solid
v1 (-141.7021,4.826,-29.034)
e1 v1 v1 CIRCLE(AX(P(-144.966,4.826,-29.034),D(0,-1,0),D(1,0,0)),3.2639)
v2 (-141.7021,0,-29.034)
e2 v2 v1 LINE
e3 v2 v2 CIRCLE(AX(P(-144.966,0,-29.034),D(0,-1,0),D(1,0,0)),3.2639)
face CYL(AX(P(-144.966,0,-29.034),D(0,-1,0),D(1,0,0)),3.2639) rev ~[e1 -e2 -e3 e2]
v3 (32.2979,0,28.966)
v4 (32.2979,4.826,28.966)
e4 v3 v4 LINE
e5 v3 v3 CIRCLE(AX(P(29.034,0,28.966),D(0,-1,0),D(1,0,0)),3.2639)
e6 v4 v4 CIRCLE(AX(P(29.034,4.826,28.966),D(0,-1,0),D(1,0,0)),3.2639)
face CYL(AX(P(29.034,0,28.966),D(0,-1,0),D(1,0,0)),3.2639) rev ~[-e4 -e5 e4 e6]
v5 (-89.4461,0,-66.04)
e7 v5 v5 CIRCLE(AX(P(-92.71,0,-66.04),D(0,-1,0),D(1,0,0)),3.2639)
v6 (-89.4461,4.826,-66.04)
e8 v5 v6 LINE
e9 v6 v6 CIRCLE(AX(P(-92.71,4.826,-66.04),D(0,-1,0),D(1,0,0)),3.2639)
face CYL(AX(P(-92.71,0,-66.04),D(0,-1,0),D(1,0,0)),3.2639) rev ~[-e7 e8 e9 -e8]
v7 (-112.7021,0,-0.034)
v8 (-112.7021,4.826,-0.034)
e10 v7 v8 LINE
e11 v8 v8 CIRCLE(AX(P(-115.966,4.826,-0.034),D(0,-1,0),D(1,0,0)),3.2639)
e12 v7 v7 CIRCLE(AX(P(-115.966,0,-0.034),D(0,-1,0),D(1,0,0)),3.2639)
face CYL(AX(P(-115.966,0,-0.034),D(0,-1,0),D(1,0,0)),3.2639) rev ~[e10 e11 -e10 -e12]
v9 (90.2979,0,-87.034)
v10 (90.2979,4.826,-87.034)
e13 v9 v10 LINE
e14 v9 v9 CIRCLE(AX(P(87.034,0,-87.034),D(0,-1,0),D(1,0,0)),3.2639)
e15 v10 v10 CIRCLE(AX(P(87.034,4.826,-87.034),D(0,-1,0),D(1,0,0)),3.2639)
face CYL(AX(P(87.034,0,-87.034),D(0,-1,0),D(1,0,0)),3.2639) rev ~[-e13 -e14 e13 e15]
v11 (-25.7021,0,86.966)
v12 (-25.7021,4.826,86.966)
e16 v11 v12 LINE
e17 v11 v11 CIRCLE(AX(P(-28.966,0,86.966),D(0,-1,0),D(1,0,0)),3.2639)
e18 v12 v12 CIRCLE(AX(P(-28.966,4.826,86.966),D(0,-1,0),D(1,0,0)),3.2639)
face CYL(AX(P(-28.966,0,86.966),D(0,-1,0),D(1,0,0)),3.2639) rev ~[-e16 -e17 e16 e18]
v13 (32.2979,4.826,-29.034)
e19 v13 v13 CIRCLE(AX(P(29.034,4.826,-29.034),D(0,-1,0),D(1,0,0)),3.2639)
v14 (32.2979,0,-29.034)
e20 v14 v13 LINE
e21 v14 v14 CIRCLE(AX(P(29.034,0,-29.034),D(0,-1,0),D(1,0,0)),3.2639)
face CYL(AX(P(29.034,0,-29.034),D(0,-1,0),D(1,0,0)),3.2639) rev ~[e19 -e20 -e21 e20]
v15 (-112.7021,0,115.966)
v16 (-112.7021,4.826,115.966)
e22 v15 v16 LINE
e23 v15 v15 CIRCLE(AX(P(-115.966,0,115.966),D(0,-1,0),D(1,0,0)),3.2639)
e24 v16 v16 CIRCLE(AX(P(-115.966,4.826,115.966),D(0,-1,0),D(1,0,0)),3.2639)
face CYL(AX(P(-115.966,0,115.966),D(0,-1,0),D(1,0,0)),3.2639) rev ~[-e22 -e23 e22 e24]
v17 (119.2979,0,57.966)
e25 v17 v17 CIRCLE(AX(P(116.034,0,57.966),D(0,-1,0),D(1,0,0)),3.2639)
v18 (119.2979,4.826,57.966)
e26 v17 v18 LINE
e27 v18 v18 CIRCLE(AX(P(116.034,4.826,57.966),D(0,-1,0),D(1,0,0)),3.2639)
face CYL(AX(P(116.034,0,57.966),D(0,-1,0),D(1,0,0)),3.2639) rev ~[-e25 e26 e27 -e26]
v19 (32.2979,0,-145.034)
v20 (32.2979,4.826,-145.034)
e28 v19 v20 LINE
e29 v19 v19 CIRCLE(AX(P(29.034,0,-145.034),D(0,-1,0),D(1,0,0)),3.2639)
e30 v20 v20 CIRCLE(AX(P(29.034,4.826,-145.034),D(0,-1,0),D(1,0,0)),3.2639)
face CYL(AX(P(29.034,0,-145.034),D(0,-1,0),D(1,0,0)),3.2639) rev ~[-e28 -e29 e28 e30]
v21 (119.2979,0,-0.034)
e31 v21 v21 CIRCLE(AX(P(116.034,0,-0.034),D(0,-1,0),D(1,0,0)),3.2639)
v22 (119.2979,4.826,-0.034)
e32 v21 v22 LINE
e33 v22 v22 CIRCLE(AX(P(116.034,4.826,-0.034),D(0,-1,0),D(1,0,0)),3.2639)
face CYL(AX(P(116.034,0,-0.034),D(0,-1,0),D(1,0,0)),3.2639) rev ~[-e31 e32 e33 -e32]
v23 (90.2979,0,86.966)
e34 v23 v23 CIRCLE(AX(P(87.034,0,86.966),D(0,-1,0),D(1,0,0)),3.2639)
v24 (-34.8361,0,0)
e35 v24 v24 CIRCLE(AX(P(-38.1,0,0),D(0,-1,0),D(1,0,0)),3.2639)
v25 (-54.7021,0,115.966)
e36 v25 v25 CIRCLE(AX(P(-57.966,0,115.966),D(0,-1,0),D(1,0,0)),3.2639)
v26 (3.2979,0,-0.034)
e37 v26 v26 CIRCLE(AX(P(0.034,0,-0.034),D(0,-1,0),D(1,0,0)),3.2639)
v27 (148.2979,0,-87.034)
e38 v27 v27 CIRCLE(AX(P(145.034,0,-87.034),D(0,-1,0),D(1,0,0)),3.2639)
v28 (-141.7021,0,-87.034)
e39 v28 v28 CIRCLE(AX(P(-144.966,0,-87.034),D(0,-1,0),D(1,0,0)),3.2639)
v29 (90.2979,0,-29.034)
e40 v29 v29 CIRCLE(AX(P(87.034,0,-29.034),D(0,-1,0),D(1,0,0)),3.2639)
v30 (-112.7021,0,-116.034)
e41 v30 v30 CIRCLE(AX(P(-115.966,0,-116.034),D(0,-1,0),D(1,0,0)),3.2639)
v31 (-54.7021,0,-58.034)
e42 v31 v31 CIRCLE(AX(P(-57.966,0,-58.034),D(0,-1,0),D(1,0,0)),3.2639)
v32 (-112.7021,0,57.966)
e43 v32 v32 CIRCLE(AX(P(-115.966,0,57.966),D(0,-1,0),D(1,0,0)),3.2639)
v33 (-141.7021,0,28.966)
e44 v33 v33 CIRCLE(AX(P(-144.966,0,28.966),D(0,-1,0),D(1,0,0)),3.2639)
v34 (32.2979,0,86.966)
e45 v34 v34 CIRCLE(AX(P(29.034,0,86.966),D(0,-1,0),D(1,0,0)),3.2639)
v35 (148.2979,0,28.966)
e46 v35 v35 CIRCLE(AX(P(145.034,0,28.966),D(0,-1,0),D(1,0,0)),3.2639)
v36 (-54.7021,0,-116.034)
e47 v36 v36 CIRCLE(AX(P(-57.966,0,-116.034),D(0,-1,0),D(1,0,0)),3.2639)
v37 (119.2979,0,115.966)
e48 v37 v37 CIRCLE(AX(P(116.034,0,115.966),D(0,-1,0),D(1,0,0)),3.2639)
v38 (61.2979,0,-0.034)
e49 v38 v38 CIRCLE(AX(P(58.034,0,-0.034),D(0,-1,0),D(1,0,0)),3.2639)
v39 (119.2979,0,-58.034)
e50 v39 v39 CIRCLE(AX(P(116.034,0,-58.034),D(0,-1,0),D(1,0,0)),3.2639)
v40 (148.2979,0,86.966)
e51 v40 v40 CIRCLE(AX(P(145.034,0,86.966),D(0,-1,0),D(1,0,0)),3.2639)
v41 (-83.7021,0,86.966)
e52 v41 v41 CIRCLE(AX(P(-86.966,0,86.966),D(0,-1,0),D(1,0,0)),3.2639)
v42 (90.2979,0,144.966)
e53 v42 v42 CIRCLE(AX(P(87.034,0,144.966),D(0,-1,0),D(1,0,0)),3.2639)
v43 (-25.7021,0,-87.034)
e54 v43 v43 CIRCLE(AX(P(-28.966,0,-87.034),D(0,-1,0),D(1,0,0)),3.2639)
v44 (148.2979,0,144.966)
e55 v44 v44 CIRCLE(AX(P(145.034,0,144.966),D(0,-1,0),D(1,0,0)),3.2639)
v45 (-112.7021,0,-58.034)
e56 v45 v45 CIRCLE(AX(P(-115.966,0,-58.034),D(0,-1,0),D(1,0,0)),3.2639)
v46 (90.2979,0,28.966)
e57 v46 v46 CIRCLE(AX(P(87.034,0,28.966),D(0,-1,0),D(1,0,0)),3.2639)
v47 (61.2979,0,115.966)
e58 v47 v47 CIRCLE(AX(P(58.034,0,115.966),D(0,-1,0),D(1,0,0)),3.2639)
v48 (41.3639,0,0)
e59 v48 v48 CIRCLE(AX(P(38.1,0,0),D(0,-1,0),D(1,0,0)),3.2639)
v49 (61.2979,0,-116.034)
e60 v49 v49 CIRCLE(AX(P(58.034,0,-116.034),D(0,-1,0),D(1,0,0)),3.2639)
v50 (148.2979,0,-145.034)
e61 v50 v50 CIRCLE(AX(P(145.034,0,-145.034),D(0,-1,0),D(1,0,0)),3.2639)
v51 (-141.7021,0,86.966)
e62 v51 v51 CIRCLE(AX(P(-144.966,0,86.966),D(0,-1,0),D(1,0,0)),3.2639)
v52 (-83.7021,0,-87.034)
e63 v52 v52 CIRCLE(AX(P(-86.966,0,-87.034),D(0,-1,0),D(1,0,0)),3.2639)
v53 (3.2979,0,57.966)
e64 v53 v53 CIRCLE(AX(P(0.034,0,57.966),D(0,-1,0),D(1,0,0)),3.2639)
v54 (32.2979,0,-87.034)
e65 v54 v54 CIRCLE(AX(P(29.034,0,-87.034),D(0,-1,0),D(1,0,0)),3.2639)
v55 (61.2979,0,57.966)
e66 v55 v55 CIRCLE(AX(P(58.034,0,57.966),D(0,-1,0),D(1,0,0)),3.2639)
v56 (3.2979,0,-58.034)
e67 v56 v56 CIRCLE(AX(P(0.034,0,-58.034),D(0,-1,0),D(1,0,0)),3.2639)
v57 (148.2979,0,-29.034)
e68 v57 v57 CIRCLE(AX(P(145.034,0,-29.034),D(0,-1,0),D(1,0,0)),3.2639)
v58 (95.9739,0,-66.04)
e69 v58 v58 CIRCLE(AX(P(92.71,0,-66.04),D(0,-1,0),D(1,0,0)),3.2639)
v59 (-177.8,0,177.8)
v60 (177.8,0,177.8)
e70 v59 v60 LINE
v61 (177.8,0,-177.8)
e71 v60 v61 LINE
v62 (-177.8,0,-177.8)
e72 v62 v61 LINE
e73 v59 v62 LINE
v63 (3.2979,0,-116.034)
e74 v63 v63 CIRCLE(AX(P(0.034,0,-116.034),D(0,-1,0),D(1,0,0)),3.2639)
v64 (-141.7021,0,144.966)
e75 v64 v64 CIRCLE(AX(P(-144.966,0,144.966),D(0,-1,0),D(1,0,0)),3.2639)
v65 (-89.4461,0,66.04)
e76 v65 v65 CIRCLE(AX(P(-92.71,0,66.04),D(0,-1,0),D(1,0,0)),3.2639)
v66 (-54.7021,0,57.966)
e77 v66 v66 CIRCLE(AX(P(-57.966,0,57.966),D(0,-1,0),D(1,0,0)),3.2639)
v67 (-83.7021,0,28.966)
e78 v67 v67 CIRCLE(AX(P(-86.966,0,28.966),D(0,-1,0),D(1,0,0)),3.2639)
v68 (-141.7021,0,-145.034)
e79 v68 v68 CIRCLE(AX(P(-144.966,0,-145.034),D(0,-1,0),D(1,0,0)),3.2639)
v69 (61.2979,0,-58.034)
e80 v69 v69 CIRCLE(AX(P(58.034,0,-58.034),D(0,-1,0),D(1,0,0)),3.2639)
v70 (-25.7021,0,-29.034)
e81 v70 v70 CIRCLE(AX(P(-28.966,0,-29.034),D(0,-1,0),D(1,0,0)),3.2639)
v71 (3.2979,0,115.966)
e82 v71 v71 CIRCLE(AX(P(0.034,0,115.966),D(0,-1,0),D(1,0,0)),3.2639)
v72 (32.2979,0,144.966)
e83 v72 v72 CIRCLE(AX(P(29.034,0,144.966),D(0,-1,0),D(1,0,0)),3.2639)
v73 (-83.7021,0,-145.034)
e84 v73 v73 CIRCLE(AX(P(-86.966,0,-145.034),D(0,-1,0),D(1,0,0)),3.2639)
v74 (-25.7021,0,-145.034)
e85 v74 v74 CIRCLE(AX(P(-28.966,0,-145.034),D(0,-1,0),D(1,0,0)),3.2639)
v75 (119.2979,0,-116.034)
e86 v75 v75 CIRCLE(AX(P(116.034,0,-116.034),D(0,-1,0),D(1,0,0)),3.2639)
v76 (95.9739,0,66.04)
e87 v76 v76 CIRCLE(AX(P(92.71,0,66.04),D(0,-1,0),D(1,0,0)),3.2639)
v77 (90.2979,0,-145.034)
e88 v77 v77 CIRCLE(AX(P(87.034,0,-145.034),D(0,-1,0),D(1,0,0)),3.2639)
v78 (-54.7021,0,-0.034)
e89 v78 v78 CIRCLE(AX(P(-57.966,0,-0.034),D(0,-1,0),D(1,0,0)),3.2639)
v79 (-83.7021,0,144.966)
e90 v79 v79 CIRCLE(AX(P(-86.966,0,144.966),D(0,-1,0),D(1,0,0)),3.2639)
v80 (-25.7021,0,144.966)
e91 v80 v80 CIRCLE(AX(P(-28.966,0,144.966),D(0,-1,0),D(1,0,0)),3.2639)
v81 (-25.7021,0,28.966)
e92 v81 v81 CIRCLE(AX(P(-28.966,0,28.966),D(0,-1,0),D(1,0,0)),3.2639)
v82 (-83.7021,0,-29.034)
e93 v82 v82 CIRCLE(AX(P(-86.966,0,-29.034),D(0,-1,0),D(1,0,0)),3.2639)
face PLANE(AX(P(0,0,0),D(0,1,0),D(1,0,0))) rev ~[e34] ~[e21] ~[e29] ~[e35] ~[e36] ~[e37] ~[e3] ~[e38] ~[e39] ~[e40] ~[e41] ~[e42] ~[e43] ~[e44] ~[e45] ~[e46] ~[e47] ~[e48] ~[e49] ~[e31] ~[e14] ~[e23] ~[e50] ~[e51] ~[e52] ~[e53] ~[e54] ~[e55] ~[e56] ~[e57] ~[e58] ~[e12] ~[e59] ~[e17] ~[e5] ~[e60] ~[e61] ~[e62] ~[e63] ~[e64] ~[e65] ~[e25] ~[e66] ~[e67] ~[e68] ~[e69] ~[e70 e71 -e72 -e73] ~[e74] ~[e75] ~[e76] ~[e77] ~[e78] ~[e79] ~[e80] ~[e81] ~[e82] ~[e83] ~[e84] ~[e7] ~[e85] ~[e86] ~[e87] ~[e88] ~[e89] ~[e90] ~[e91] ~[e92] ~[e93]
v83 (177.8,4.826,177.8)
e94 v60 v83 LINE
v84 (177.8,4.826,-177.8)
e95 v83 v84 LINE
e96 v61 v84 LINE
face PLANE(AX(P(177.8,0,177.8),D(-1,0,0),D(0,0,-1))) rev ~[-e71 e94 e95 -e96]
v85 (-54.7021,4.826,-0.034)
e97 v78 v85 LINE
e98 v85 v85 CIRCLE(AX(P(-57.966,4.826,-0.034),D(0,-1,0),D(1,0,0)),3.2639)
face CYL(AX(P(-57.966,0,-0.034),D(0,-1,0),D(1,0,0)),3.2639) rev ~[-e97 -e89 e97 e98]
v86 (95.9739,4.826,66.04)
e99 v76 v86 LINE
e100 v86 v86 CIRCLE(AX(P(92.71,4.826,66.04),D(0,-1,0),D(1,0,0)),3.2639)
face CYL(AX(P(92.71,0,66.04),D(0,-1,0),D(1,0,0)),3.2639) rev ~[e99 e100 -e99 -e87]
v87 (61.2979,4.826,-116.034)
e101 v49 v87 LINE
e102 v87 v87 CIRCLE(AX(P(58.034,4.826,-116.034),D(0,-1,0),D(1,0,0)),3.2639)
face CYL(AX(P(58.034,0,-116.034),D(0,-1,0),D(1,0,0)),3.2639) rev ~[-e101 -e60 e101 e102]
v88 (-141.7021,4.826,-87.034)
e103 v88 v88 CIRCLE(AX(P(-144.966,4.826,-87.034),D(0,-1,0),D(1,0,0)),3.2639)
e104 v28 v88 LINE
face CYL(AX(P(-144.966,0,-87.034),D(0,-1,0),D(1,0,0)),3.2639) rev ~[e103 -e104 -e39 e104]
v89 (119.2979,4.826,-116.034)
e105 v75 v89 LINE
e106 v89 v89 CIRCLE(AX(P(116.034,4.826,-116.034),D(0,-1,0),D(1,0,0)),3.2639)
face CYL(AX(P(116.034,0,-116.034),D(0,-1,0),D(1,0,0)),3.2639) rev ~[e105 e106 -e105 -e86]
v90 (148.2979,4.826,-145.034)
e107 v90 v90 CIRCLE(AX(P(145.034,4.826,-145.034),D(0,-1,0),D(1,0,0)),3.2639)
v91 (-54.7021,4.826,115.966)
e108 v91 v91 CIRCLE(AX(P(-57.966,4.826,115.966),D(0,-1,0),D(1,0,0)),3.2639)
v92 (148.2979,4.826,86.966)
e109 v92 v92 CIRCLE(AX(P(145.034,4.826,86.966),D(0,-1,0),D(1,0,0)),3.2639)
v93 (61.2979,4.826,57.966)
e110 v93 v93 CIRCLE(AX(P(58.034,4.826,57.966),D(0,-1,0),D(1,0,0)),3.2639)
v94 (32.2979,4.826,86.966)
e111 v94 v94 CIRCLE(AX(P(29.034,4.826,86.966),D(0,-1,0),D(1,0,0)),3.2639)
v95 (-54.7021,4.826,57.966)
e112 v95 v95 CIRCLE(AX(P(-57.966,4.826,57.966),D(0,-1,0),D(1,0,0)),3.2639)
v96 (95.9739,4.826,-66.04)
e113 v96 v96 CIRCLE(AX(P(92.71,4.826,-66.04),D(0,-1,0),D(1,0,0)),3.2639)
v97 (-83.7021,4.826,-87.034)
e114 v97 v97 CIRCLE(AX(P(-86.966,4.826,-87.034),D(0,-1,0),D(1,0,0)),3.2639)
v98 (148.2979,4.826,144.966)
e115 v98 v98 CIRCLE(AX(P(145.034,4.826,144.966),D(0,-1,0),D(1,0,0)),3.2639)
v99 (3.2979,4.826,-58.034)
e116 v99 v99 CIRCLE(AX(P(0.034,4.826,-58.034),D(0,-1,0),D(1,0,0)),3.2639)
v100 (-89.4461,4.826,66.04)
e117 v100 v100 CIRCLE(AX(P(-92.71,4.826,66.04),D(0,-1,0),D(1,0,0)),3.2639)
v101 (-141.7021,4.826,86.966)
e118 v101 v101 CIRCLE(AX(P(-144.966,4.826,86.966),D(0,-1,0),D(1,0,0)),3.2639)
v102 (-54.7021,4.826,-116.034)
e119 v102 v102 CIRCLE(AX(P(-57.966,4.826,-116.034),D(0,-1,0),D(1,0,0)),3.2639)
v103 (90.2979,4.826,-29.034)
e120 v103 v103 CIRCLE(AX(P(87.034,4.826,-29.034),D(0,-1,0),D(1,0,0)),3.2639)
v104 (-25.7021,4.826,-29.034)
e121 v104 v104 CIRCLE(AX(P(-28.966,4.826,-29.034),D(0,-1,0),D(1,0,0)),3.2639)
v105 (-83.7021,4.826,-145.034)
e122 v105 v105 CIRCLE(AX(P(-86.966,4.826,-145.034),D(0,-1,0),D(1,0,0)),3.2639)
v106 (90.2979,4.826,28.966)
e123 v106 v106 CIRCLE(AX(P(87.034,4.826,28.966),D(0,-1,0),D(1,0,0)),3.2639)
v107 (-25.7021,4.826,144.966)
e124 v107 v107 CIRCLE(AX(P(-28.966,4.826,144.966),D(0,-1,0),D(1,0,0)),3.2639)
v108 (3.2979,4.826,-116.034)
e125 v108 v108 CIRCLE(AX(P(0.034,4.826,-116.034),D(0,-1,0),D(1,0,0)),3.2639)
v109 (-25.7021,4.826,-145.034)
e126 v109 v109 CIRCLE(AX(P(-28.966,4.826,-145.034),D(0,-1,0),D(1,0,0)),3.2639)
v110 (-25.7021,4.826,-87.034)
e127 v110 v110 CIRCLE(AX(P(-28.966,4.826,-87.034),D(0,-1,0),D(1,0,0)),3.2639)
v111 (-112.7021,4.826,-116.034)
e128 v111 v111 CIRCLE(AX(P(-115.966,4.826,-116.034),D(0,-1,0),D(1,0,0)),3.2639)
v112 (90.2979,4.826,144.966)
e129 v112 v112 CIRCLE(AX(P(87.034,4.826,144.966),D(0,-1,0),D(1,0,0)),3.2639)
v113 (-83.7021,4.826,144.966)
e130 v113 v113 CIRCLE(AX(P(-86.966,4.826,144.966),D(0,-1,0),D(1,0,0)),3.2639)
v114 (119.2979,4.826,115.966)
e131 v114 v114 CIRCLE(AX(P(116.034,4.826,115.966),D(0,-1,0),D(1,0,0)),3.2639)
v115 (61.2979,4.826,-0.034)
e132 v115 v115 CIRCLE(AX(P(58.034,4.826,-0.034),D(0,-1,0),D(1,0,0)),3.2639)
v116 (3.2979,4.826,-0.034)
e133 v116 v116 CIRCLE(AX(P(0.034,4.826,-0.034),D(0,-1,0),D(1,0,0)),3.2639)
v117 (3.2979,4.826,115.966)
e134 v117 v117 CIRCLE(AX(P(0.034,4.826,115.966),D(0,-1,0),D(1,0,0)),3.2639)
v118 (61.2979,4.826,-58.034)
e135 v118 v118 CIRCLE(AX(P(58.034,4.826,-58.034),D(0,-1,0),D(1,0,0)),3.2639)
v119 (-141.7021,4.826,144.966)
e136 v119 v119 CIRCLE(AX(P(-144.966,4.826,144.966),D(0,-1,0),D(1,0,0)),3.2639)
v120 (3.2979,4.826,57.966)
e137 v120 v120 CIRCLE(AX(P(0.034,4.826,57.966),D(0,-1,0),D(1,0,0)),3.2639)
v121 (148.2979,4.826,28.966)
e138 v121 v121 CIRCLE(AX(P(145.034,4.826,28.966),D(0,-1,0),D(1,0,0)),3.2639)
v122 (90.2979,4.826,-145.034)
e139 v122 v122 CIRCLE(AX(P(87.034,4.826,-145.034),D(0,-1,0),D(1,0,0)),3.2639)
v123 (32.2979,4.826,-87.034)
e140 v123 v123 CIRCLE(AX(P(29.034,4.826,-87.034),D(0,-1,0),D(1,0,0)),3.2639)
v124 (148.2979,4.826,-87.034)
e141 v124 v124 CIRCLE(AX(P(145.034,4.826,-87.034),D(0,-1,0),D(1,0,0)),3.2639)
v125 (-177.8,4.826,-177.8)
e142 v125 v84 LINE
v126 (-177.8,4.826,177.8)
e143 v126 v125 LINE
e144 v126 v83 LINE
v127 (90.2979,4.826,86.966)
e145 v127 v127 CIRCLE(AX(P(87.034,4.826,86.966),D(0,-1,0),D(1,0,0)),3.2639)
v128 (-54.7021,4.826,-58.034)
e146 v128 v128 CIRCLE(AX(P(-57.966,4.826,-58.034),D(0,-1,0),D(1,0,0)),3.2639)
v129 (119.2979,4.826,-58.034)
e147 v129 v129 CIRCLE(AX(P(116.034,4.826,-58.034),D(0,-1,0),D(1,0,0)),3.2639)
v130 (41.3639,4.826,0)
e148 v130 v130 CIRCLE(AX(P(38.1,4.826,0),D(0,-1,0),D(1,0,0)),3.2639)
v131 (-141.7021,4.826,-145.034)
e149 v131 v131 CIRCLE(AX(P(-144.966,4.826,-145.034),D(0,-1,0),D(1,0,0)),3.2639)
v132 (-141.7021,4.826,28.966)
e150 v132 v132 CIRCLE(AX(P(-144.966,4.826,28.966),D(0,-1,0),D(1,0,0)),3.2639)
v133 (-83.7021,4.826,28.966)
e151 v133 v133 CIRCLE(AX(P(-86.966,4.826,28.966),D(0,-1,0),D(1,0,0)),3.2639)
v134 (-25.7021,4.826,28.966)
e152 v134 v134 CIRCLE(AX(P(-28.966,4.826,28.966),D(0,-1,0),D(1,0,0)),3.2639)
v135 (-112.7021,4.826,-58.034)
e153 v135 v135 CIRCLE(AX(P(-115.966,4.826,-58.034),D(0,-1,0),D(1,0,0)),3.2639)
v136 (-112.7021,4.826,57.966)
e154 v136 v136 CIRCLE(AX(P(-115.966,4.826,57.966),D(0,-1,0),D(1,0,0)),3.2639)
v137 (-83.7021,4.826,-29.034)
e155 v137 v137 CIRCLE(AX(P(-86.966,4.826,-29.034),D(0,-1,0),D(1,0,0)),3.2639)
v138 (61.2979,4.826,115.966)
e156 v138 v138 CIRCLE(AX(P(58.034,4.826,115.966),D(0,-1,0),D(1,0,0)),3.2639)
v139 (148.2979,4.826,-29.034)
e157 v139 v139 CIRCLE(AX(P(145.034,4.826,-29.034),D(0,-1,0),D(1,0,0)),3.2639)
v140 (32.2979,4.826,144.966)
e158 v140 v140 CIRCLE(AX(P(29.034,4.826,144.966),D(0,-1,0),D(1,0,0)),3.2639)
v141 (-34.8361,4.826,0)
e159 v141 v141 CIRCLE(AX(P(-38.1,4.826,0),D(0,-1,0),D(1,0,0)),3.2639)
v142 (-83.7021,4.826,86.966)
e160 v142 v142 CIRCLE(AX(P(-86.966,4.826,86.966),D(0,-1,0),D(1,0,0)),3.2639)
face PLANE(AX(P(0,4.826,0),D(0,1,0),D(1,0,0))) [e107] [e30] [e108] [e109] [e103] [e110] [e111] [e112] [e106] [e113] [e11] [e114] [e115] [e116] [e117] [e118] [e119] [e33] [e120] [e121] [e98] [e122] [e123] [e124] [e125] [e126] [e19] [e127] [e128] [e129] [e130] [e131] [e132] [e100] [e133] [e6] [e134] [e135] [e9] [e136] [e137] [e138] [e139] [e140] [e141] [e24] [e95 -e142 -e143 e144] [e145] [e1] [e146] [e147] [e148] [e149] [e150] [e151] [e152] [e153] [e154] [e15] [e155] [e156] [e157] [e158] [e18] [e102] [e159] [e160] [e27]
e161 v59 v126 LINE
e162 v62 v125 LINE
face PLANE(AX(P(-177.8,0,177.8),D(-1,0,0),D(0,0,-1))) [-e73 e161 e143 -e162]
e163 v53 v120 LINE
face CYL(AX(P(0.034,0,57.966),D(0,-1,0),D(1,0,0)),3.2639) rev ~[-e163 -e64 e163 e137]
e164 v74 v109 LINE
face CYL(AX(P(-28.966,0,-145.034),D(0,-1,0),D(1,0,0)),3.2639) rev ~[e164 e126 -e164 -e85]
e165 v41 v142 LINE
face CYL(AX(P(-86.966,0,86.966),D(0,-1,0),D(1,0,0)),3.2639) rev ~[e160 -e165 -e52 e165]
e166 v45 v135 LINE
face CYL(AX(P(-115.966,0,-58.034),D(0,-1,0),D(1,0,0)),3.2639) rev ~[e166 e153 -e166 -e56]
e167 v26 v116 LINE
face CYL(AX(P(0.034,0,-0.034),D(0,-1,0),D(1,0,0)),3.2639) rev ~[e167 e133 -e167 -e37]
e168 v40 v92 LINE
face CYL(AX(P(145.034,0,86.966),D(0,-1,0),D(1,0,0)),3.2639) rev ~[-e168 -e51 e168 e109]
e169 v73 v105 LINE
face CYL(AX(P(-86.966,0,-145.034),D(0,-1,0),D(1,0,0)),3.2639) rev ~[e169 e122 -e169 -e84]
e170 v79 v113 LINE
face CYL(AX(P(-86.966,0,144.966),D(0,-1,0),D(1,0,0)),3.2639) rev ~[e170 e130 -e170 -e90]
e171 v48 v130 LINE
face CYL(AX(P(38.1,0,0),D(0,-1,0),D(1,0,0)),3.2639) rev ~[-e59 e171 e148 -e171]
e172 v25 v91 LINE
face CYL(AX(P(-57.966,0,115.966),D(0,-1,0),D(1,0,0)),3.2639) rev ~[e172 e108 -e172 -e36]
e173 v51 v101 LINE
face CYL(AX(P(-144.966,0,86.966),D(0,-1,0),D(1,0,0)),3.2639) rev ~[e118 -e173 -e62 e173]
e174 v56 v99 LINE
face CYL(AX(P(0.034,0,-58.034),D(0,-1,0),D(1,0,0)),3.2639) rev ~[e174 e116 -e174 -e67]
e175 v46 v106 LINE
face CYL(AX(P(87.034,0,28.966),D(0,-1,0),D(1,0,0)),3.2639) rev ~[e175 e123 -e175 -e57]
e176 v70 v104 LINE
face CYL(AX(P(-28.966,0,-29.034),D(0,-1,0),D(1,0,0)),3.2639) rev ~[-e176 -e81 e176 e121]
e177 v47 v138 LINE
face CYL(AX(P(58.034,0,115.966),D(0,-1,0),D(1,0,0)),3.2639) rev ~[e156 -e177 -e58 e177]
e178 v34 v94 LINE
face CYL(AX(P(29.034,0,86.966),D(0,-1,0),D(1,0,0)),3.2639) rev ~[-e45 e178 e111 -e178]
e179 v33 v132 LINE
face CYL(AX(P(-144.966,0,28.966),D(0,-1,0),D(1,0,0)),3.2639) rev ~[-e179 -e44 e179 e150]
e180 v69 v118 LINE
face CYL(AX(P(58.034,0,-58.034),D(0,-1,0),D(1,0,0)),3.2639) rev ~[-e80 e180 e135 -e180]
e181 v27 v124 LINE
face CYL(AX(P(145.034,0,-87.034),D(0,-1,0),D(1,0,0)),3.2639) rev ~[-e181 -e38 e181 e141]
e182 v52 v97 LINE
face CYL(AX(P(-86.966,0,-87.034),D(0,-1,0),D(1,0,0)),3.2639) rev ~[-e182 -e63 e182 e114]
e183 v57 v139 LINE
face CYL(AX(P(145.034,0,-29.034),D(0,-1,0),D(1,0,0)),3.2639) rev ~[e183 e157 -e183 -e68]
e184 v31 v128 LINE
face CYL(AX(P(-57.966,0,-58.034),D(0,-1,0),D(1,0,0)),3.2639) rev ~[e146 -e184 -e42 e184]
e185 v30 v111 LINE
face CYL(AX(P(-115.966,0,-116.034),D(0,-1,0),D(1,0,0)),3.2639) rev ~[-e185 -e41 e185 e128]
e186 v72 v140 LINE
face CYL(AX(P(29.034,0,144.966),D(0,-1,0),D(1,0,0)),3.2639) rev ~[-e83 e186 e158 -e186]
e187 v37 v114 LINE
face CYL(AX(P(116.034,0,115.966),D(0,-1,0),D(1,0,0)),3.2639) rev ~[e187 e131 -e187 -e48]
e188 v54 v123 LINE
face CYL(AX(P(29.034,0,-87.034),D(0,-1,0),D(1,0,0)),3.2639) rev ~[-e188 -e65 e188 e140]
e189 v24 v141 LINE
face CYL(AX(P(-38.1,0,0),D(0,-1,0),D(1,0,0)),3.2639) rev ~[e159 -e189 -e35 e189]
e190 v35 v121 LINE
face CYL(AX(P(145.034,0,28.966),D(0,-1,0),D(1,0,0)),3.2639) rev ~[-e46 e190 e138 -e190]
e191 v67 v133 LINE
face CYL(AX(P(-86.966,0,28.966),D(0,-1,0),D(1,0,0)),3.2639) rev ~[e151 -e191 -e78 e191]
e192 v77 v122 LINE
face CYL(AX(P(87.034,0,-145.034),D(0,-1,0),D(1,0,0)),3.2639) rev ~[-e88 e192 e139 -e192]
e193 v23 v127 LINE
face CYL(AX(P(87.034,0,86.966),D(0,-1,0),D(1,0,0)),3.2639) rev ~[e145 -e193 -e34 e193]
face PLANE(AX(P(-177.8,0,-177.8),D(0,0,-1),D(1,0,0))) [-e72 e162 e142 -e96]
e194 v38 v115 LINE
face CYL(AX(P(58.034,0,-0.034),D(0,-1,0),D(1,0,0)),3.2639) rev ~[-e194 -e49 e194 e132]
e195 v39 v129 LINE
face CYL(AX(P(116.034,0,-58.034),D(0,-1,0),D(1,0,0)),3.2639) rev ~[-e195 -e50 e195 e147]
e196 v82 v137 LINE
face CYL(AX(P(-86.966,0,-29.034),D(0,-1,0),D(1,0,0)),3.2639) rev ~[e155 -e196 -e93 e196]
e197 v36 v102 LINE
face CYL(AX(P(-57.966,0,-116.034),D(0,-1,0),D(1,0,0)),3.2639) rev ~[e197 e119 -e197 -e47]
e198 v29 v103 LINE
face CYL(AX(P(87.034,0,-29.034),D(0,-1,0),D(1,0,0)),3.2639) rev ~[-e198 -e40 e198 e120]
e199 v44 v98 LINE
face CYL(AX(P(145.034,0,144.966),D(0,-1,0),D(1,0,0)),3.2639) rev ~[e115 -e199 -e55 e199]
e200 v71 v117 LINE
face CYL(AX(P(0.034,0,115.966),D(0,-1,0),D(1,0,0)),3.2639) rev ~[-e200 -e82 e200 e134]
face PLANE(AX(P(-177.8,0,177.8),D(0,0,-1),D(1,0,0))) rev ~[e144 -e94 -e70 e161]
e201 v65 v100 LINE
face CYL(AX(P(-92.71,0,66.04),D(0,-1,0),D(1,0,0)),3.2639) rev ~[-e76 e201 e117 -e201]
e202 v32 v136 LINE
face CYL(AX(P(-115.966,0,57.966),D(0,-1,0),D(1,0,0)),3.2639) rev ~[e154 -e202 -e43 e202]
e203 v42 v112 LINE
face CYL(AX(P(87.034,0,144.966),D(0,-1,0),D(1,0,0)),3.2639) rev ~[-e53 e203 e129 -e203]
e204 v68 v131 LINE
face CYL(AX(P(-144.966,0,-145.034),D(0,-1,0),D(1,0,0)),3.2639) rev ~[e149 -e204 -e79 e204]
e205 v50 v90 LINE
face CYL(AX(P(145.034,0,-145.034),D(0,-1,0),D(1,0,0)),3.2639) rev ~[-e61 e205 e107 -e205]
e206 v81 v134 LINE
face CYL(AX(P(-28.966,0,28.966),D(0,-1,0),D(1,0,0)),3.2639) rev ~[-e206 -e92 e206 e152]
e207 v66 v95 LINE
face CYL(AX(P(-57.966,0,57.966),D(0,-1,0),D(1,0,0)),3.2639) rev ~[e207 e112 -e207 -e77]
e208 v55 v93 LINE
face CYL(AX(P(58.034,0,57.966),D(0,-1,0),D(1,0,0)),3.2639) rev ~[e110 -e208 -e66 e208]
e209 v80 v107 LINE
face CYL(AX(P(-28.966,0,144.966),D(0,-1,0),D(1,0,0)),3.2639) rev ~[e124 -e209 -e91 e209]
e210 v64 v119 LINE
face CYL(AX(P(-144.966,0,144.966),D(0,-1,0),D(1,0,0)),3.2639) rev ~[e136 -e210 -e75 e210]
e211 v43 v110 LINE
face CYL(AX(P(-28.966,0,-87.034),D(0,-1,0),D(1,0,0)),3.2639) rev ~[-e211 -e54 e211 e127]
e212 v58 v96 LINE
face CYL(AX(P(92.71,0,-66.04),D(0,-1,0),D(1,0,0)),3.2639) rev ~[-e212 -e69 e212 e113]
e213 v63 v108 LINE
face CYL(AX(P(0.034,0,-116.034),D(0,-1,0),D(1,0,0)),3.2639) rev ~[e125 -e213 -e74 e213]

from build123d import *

# Parameters (mm, degrees)
SKETCH1_W           = 355.6
SKETCH1_H           = 355.6
BOSS_EXTRUDE1_DEPTH = 4.826
SKETCH3_R           = 3.2639
CUT_EXTRUDE2_DEPTH  = 5.826
SKETCH5_R           = 3.2639
CUT_EXTRUDE3_DEPTH  = 5.826
SKETCH6_R           = 3.2639
CUT_EXTRUDE4_DEPTH  = 5.826


with BuildPart() as part:
    # Sketch1 → Boss-Extrude1 (new body)
    with BuildSketch(Plane(origin=(0, 0, 0), x_dir=(1, 0, 0), z_dir=(0, 1, 0))):
        Rectangle(SKETCH1_W, SKETCH1_H)
    extrude(amount=BOSS_EXTRUDE1_DEPTH)

    # Sketch3 → Cut-Extrude2 (cut, through all)
    with BuildSketch(Plane.XZ):
        with Locations((92.71, -66.04)):
            Circle(SKETCH3_R)
        with Locations((92.71, 66.04)):
            Circle(SKETCH3_R)
        with Locations((38.1, 0)):
            Circle(SKETCH3_R)
        with Locations((-38.1, 0)):
            Circle(SKETCH3_R)
        with Locations((-92.71, 66.04)):
            Circle(SKETCH3_R)
        with Locations((-92.71, -66.04)):
            Circle(SKETCH3_R)
    extrude(amount=-CUT_EXTRUDE2_DEPTH, mode=Mode.SUBTRACT)

    # Sketch5 → Cut-Extrude3 (cut, through all)
    with BuildSketch(Plane.XZ):
        with Locations((145.034, -145.034)):
            Circle(SKETCH5_R)
        with Locations((87.034, -145.034)):
            Circle(SKETCH5_R)
        with Locations((29.034, -145.034)):
            Circle(SKETCH5_R)
        with Locations((-28.966, -145.034)):
            Circle(SKETCH5_R)
        with Locations((-86.966, -145.034)):
            Circle(SKETCH5_R)
        with Locations((-144.966, -145.034)):
            Circle(SKETCH5_R)
        with Locations((145.034, -87.034)):
            Circle(SKETCH5_R)
        with Locations((87.034, -87.034)):
            Circle(SKETCH5_R)
        with Locations((29.034, -87.034)):
            Circle(SKETCH5_R)
        with Locations((-28.966, -87.034)):
            Circle(SKETCH5_R)
        with Locations((-86.966, -87.034)):
            Circle(SKETCH5_R)
        with Locations((-144.966, -87.034)):
            Circle(SKETCH5_R)
        with Locations((145.034, -29.034)):
            Circle(SKETCH5_R)
        with Locations((87.034, -29.034)):
            Circle(SKETCH5_R)
        with Locations((29.034, -29.034)):
            Circle(SKETCH5_R)
        with Locations((-28.966, -29.034)):
            Circle(SKETCH5_R)
        with Locations((-86.966, -29.034)):
            Circle(SKETCH5_R)
        with Locations((-144.966, -29.034)):
            Circle(SKETCH5_R)
        with Locations((145.034, 28.966)):
            Circle(SKETCH5_R)
        with Locations((87.034, 28.966)):
            Circle(SKETCH5_R)
        with Locations((29.034, 28.966)):
            Circle(SKETCH5_R)
        with Locations((-28.966, 28.966)):
            Circle(SKETCH5_R)
        with Locations((-86.966, 28.966)):
            Circle(SKETCH5_R)
        with Locations((-144.966, 28.966)):
            Circle(SKETCH5_R)
        with Locations((145.034, 86.966)):
            Circle(SKETCH5_R)
        with Locations((87.034, 86.966)):
            Circle(SKETCH5_R)
        with Locations((29.034, 86.966)):
            Circle(SKETCH5_R)
        with Locations((-28.966, 86.966)):
            Circle(SKETCH5_R)
        with Locations((-86.966, 86.966)):
            Circle(SKETCH5_R)
        with Locations((-144.966, 86.966)):
            Circle(SKETCH5_R)
        with Locations((145.034, 144.966)):
            Circle(SKETCH5_R)
        with Locations((87.034, 144.966)):
            Circle(SKETCH5_R)
        with Locations((29.034, 144.966)):
            Circle(SKETCH5_R)
        with Locations((-28.966, 144.966)):
            Circle(SKETCH5_R)
        with Locations((-86.966, 144.966)):
            Circle(SKETCH5_R)
        with Locations((-144.966, 144.966)):
            Circle(SKETCH5_R)
    extrude(amount=-CUT_EXTRUDE3_DEPTH, mode=Mode.SUBTRACT)

    # Sketch6 → Cut-Extrude4 (cut, through all)
    with BuildSketch(Plane.XZ):
        with Locations((116.034, -116.034)):
            Circle(SKETCH6_R)
        with Locations((58.034, -116.034)):
            Circle(SKETCH6_R)
        with Locations((0.034, -116.034)):
            Circle(SKETCH6_R)
        with Locations((-57.966, -116.034)):
            Circle(SKETCH6_R)
        with Locations((-115.966, -116.034)):
            Circle(SKETCH6_R)
        with Locations((116.034, -58.034)):
            Circle(SKETCH6_R)
        with Locations((58.034, -58.034)):
            Circle(SKETCH6_R)
        with Locations((0.034, -58.034)):
            Circle(SKETCH6_R)
        with Locations((-57.966, -58.034)):
            Circle(SKETCH6_R)
        with Locations((-115.966, -58.034)):
            Circle(SKETCH6_R)
        with Locations((116.034, -0.034)):
            Circle(SKETCH6_R)
        with Locations((58.034, -0.034)):
            Circle(SKETCH6_R)
        with Locations((0.034, -0.034)):
            Circle(SKETCH6_R)
        with Locations((-57.966, -0.034)):
            Circle(SKETCH6_R)
        with Locations((-115.966, -0.034)):
            Circle(SKETCH6_R)
        with Locations((116.034, 57.966)):
            Circle(SKETCH6_R)
        with Locations((58.034, 57.966)):
            Circle(SKETCH6_R)
        with Locations((0.034, 57.966)):
            Circle(SKETCH6_R)
        with Locations((-57.966, 57.966)):
            Circle(SKETCH6_R)
        with Locations((-115.966, 57.966)):
            Circle(SKETCH6_R)
        with Locations((116.034, 115.966)):
            Circle(SKETCH6_R)
        with Locations((58.034, 115.966)):
            Circle(SKETCH6_R)
        with Locations((0.034, 115.966)):
            Circle(SKETCH6_R)
        with Locations((-57.966, 115.966)):
            Circle(SKETCH6_R)
        with Locations((-115.966, 115.966)):
            Circle(SKETCH6_R)
    extrude(amount=-CUT_EXTRUDE4_DEPTH, mode=Mode.SUBTRACT)


solid = part.part
